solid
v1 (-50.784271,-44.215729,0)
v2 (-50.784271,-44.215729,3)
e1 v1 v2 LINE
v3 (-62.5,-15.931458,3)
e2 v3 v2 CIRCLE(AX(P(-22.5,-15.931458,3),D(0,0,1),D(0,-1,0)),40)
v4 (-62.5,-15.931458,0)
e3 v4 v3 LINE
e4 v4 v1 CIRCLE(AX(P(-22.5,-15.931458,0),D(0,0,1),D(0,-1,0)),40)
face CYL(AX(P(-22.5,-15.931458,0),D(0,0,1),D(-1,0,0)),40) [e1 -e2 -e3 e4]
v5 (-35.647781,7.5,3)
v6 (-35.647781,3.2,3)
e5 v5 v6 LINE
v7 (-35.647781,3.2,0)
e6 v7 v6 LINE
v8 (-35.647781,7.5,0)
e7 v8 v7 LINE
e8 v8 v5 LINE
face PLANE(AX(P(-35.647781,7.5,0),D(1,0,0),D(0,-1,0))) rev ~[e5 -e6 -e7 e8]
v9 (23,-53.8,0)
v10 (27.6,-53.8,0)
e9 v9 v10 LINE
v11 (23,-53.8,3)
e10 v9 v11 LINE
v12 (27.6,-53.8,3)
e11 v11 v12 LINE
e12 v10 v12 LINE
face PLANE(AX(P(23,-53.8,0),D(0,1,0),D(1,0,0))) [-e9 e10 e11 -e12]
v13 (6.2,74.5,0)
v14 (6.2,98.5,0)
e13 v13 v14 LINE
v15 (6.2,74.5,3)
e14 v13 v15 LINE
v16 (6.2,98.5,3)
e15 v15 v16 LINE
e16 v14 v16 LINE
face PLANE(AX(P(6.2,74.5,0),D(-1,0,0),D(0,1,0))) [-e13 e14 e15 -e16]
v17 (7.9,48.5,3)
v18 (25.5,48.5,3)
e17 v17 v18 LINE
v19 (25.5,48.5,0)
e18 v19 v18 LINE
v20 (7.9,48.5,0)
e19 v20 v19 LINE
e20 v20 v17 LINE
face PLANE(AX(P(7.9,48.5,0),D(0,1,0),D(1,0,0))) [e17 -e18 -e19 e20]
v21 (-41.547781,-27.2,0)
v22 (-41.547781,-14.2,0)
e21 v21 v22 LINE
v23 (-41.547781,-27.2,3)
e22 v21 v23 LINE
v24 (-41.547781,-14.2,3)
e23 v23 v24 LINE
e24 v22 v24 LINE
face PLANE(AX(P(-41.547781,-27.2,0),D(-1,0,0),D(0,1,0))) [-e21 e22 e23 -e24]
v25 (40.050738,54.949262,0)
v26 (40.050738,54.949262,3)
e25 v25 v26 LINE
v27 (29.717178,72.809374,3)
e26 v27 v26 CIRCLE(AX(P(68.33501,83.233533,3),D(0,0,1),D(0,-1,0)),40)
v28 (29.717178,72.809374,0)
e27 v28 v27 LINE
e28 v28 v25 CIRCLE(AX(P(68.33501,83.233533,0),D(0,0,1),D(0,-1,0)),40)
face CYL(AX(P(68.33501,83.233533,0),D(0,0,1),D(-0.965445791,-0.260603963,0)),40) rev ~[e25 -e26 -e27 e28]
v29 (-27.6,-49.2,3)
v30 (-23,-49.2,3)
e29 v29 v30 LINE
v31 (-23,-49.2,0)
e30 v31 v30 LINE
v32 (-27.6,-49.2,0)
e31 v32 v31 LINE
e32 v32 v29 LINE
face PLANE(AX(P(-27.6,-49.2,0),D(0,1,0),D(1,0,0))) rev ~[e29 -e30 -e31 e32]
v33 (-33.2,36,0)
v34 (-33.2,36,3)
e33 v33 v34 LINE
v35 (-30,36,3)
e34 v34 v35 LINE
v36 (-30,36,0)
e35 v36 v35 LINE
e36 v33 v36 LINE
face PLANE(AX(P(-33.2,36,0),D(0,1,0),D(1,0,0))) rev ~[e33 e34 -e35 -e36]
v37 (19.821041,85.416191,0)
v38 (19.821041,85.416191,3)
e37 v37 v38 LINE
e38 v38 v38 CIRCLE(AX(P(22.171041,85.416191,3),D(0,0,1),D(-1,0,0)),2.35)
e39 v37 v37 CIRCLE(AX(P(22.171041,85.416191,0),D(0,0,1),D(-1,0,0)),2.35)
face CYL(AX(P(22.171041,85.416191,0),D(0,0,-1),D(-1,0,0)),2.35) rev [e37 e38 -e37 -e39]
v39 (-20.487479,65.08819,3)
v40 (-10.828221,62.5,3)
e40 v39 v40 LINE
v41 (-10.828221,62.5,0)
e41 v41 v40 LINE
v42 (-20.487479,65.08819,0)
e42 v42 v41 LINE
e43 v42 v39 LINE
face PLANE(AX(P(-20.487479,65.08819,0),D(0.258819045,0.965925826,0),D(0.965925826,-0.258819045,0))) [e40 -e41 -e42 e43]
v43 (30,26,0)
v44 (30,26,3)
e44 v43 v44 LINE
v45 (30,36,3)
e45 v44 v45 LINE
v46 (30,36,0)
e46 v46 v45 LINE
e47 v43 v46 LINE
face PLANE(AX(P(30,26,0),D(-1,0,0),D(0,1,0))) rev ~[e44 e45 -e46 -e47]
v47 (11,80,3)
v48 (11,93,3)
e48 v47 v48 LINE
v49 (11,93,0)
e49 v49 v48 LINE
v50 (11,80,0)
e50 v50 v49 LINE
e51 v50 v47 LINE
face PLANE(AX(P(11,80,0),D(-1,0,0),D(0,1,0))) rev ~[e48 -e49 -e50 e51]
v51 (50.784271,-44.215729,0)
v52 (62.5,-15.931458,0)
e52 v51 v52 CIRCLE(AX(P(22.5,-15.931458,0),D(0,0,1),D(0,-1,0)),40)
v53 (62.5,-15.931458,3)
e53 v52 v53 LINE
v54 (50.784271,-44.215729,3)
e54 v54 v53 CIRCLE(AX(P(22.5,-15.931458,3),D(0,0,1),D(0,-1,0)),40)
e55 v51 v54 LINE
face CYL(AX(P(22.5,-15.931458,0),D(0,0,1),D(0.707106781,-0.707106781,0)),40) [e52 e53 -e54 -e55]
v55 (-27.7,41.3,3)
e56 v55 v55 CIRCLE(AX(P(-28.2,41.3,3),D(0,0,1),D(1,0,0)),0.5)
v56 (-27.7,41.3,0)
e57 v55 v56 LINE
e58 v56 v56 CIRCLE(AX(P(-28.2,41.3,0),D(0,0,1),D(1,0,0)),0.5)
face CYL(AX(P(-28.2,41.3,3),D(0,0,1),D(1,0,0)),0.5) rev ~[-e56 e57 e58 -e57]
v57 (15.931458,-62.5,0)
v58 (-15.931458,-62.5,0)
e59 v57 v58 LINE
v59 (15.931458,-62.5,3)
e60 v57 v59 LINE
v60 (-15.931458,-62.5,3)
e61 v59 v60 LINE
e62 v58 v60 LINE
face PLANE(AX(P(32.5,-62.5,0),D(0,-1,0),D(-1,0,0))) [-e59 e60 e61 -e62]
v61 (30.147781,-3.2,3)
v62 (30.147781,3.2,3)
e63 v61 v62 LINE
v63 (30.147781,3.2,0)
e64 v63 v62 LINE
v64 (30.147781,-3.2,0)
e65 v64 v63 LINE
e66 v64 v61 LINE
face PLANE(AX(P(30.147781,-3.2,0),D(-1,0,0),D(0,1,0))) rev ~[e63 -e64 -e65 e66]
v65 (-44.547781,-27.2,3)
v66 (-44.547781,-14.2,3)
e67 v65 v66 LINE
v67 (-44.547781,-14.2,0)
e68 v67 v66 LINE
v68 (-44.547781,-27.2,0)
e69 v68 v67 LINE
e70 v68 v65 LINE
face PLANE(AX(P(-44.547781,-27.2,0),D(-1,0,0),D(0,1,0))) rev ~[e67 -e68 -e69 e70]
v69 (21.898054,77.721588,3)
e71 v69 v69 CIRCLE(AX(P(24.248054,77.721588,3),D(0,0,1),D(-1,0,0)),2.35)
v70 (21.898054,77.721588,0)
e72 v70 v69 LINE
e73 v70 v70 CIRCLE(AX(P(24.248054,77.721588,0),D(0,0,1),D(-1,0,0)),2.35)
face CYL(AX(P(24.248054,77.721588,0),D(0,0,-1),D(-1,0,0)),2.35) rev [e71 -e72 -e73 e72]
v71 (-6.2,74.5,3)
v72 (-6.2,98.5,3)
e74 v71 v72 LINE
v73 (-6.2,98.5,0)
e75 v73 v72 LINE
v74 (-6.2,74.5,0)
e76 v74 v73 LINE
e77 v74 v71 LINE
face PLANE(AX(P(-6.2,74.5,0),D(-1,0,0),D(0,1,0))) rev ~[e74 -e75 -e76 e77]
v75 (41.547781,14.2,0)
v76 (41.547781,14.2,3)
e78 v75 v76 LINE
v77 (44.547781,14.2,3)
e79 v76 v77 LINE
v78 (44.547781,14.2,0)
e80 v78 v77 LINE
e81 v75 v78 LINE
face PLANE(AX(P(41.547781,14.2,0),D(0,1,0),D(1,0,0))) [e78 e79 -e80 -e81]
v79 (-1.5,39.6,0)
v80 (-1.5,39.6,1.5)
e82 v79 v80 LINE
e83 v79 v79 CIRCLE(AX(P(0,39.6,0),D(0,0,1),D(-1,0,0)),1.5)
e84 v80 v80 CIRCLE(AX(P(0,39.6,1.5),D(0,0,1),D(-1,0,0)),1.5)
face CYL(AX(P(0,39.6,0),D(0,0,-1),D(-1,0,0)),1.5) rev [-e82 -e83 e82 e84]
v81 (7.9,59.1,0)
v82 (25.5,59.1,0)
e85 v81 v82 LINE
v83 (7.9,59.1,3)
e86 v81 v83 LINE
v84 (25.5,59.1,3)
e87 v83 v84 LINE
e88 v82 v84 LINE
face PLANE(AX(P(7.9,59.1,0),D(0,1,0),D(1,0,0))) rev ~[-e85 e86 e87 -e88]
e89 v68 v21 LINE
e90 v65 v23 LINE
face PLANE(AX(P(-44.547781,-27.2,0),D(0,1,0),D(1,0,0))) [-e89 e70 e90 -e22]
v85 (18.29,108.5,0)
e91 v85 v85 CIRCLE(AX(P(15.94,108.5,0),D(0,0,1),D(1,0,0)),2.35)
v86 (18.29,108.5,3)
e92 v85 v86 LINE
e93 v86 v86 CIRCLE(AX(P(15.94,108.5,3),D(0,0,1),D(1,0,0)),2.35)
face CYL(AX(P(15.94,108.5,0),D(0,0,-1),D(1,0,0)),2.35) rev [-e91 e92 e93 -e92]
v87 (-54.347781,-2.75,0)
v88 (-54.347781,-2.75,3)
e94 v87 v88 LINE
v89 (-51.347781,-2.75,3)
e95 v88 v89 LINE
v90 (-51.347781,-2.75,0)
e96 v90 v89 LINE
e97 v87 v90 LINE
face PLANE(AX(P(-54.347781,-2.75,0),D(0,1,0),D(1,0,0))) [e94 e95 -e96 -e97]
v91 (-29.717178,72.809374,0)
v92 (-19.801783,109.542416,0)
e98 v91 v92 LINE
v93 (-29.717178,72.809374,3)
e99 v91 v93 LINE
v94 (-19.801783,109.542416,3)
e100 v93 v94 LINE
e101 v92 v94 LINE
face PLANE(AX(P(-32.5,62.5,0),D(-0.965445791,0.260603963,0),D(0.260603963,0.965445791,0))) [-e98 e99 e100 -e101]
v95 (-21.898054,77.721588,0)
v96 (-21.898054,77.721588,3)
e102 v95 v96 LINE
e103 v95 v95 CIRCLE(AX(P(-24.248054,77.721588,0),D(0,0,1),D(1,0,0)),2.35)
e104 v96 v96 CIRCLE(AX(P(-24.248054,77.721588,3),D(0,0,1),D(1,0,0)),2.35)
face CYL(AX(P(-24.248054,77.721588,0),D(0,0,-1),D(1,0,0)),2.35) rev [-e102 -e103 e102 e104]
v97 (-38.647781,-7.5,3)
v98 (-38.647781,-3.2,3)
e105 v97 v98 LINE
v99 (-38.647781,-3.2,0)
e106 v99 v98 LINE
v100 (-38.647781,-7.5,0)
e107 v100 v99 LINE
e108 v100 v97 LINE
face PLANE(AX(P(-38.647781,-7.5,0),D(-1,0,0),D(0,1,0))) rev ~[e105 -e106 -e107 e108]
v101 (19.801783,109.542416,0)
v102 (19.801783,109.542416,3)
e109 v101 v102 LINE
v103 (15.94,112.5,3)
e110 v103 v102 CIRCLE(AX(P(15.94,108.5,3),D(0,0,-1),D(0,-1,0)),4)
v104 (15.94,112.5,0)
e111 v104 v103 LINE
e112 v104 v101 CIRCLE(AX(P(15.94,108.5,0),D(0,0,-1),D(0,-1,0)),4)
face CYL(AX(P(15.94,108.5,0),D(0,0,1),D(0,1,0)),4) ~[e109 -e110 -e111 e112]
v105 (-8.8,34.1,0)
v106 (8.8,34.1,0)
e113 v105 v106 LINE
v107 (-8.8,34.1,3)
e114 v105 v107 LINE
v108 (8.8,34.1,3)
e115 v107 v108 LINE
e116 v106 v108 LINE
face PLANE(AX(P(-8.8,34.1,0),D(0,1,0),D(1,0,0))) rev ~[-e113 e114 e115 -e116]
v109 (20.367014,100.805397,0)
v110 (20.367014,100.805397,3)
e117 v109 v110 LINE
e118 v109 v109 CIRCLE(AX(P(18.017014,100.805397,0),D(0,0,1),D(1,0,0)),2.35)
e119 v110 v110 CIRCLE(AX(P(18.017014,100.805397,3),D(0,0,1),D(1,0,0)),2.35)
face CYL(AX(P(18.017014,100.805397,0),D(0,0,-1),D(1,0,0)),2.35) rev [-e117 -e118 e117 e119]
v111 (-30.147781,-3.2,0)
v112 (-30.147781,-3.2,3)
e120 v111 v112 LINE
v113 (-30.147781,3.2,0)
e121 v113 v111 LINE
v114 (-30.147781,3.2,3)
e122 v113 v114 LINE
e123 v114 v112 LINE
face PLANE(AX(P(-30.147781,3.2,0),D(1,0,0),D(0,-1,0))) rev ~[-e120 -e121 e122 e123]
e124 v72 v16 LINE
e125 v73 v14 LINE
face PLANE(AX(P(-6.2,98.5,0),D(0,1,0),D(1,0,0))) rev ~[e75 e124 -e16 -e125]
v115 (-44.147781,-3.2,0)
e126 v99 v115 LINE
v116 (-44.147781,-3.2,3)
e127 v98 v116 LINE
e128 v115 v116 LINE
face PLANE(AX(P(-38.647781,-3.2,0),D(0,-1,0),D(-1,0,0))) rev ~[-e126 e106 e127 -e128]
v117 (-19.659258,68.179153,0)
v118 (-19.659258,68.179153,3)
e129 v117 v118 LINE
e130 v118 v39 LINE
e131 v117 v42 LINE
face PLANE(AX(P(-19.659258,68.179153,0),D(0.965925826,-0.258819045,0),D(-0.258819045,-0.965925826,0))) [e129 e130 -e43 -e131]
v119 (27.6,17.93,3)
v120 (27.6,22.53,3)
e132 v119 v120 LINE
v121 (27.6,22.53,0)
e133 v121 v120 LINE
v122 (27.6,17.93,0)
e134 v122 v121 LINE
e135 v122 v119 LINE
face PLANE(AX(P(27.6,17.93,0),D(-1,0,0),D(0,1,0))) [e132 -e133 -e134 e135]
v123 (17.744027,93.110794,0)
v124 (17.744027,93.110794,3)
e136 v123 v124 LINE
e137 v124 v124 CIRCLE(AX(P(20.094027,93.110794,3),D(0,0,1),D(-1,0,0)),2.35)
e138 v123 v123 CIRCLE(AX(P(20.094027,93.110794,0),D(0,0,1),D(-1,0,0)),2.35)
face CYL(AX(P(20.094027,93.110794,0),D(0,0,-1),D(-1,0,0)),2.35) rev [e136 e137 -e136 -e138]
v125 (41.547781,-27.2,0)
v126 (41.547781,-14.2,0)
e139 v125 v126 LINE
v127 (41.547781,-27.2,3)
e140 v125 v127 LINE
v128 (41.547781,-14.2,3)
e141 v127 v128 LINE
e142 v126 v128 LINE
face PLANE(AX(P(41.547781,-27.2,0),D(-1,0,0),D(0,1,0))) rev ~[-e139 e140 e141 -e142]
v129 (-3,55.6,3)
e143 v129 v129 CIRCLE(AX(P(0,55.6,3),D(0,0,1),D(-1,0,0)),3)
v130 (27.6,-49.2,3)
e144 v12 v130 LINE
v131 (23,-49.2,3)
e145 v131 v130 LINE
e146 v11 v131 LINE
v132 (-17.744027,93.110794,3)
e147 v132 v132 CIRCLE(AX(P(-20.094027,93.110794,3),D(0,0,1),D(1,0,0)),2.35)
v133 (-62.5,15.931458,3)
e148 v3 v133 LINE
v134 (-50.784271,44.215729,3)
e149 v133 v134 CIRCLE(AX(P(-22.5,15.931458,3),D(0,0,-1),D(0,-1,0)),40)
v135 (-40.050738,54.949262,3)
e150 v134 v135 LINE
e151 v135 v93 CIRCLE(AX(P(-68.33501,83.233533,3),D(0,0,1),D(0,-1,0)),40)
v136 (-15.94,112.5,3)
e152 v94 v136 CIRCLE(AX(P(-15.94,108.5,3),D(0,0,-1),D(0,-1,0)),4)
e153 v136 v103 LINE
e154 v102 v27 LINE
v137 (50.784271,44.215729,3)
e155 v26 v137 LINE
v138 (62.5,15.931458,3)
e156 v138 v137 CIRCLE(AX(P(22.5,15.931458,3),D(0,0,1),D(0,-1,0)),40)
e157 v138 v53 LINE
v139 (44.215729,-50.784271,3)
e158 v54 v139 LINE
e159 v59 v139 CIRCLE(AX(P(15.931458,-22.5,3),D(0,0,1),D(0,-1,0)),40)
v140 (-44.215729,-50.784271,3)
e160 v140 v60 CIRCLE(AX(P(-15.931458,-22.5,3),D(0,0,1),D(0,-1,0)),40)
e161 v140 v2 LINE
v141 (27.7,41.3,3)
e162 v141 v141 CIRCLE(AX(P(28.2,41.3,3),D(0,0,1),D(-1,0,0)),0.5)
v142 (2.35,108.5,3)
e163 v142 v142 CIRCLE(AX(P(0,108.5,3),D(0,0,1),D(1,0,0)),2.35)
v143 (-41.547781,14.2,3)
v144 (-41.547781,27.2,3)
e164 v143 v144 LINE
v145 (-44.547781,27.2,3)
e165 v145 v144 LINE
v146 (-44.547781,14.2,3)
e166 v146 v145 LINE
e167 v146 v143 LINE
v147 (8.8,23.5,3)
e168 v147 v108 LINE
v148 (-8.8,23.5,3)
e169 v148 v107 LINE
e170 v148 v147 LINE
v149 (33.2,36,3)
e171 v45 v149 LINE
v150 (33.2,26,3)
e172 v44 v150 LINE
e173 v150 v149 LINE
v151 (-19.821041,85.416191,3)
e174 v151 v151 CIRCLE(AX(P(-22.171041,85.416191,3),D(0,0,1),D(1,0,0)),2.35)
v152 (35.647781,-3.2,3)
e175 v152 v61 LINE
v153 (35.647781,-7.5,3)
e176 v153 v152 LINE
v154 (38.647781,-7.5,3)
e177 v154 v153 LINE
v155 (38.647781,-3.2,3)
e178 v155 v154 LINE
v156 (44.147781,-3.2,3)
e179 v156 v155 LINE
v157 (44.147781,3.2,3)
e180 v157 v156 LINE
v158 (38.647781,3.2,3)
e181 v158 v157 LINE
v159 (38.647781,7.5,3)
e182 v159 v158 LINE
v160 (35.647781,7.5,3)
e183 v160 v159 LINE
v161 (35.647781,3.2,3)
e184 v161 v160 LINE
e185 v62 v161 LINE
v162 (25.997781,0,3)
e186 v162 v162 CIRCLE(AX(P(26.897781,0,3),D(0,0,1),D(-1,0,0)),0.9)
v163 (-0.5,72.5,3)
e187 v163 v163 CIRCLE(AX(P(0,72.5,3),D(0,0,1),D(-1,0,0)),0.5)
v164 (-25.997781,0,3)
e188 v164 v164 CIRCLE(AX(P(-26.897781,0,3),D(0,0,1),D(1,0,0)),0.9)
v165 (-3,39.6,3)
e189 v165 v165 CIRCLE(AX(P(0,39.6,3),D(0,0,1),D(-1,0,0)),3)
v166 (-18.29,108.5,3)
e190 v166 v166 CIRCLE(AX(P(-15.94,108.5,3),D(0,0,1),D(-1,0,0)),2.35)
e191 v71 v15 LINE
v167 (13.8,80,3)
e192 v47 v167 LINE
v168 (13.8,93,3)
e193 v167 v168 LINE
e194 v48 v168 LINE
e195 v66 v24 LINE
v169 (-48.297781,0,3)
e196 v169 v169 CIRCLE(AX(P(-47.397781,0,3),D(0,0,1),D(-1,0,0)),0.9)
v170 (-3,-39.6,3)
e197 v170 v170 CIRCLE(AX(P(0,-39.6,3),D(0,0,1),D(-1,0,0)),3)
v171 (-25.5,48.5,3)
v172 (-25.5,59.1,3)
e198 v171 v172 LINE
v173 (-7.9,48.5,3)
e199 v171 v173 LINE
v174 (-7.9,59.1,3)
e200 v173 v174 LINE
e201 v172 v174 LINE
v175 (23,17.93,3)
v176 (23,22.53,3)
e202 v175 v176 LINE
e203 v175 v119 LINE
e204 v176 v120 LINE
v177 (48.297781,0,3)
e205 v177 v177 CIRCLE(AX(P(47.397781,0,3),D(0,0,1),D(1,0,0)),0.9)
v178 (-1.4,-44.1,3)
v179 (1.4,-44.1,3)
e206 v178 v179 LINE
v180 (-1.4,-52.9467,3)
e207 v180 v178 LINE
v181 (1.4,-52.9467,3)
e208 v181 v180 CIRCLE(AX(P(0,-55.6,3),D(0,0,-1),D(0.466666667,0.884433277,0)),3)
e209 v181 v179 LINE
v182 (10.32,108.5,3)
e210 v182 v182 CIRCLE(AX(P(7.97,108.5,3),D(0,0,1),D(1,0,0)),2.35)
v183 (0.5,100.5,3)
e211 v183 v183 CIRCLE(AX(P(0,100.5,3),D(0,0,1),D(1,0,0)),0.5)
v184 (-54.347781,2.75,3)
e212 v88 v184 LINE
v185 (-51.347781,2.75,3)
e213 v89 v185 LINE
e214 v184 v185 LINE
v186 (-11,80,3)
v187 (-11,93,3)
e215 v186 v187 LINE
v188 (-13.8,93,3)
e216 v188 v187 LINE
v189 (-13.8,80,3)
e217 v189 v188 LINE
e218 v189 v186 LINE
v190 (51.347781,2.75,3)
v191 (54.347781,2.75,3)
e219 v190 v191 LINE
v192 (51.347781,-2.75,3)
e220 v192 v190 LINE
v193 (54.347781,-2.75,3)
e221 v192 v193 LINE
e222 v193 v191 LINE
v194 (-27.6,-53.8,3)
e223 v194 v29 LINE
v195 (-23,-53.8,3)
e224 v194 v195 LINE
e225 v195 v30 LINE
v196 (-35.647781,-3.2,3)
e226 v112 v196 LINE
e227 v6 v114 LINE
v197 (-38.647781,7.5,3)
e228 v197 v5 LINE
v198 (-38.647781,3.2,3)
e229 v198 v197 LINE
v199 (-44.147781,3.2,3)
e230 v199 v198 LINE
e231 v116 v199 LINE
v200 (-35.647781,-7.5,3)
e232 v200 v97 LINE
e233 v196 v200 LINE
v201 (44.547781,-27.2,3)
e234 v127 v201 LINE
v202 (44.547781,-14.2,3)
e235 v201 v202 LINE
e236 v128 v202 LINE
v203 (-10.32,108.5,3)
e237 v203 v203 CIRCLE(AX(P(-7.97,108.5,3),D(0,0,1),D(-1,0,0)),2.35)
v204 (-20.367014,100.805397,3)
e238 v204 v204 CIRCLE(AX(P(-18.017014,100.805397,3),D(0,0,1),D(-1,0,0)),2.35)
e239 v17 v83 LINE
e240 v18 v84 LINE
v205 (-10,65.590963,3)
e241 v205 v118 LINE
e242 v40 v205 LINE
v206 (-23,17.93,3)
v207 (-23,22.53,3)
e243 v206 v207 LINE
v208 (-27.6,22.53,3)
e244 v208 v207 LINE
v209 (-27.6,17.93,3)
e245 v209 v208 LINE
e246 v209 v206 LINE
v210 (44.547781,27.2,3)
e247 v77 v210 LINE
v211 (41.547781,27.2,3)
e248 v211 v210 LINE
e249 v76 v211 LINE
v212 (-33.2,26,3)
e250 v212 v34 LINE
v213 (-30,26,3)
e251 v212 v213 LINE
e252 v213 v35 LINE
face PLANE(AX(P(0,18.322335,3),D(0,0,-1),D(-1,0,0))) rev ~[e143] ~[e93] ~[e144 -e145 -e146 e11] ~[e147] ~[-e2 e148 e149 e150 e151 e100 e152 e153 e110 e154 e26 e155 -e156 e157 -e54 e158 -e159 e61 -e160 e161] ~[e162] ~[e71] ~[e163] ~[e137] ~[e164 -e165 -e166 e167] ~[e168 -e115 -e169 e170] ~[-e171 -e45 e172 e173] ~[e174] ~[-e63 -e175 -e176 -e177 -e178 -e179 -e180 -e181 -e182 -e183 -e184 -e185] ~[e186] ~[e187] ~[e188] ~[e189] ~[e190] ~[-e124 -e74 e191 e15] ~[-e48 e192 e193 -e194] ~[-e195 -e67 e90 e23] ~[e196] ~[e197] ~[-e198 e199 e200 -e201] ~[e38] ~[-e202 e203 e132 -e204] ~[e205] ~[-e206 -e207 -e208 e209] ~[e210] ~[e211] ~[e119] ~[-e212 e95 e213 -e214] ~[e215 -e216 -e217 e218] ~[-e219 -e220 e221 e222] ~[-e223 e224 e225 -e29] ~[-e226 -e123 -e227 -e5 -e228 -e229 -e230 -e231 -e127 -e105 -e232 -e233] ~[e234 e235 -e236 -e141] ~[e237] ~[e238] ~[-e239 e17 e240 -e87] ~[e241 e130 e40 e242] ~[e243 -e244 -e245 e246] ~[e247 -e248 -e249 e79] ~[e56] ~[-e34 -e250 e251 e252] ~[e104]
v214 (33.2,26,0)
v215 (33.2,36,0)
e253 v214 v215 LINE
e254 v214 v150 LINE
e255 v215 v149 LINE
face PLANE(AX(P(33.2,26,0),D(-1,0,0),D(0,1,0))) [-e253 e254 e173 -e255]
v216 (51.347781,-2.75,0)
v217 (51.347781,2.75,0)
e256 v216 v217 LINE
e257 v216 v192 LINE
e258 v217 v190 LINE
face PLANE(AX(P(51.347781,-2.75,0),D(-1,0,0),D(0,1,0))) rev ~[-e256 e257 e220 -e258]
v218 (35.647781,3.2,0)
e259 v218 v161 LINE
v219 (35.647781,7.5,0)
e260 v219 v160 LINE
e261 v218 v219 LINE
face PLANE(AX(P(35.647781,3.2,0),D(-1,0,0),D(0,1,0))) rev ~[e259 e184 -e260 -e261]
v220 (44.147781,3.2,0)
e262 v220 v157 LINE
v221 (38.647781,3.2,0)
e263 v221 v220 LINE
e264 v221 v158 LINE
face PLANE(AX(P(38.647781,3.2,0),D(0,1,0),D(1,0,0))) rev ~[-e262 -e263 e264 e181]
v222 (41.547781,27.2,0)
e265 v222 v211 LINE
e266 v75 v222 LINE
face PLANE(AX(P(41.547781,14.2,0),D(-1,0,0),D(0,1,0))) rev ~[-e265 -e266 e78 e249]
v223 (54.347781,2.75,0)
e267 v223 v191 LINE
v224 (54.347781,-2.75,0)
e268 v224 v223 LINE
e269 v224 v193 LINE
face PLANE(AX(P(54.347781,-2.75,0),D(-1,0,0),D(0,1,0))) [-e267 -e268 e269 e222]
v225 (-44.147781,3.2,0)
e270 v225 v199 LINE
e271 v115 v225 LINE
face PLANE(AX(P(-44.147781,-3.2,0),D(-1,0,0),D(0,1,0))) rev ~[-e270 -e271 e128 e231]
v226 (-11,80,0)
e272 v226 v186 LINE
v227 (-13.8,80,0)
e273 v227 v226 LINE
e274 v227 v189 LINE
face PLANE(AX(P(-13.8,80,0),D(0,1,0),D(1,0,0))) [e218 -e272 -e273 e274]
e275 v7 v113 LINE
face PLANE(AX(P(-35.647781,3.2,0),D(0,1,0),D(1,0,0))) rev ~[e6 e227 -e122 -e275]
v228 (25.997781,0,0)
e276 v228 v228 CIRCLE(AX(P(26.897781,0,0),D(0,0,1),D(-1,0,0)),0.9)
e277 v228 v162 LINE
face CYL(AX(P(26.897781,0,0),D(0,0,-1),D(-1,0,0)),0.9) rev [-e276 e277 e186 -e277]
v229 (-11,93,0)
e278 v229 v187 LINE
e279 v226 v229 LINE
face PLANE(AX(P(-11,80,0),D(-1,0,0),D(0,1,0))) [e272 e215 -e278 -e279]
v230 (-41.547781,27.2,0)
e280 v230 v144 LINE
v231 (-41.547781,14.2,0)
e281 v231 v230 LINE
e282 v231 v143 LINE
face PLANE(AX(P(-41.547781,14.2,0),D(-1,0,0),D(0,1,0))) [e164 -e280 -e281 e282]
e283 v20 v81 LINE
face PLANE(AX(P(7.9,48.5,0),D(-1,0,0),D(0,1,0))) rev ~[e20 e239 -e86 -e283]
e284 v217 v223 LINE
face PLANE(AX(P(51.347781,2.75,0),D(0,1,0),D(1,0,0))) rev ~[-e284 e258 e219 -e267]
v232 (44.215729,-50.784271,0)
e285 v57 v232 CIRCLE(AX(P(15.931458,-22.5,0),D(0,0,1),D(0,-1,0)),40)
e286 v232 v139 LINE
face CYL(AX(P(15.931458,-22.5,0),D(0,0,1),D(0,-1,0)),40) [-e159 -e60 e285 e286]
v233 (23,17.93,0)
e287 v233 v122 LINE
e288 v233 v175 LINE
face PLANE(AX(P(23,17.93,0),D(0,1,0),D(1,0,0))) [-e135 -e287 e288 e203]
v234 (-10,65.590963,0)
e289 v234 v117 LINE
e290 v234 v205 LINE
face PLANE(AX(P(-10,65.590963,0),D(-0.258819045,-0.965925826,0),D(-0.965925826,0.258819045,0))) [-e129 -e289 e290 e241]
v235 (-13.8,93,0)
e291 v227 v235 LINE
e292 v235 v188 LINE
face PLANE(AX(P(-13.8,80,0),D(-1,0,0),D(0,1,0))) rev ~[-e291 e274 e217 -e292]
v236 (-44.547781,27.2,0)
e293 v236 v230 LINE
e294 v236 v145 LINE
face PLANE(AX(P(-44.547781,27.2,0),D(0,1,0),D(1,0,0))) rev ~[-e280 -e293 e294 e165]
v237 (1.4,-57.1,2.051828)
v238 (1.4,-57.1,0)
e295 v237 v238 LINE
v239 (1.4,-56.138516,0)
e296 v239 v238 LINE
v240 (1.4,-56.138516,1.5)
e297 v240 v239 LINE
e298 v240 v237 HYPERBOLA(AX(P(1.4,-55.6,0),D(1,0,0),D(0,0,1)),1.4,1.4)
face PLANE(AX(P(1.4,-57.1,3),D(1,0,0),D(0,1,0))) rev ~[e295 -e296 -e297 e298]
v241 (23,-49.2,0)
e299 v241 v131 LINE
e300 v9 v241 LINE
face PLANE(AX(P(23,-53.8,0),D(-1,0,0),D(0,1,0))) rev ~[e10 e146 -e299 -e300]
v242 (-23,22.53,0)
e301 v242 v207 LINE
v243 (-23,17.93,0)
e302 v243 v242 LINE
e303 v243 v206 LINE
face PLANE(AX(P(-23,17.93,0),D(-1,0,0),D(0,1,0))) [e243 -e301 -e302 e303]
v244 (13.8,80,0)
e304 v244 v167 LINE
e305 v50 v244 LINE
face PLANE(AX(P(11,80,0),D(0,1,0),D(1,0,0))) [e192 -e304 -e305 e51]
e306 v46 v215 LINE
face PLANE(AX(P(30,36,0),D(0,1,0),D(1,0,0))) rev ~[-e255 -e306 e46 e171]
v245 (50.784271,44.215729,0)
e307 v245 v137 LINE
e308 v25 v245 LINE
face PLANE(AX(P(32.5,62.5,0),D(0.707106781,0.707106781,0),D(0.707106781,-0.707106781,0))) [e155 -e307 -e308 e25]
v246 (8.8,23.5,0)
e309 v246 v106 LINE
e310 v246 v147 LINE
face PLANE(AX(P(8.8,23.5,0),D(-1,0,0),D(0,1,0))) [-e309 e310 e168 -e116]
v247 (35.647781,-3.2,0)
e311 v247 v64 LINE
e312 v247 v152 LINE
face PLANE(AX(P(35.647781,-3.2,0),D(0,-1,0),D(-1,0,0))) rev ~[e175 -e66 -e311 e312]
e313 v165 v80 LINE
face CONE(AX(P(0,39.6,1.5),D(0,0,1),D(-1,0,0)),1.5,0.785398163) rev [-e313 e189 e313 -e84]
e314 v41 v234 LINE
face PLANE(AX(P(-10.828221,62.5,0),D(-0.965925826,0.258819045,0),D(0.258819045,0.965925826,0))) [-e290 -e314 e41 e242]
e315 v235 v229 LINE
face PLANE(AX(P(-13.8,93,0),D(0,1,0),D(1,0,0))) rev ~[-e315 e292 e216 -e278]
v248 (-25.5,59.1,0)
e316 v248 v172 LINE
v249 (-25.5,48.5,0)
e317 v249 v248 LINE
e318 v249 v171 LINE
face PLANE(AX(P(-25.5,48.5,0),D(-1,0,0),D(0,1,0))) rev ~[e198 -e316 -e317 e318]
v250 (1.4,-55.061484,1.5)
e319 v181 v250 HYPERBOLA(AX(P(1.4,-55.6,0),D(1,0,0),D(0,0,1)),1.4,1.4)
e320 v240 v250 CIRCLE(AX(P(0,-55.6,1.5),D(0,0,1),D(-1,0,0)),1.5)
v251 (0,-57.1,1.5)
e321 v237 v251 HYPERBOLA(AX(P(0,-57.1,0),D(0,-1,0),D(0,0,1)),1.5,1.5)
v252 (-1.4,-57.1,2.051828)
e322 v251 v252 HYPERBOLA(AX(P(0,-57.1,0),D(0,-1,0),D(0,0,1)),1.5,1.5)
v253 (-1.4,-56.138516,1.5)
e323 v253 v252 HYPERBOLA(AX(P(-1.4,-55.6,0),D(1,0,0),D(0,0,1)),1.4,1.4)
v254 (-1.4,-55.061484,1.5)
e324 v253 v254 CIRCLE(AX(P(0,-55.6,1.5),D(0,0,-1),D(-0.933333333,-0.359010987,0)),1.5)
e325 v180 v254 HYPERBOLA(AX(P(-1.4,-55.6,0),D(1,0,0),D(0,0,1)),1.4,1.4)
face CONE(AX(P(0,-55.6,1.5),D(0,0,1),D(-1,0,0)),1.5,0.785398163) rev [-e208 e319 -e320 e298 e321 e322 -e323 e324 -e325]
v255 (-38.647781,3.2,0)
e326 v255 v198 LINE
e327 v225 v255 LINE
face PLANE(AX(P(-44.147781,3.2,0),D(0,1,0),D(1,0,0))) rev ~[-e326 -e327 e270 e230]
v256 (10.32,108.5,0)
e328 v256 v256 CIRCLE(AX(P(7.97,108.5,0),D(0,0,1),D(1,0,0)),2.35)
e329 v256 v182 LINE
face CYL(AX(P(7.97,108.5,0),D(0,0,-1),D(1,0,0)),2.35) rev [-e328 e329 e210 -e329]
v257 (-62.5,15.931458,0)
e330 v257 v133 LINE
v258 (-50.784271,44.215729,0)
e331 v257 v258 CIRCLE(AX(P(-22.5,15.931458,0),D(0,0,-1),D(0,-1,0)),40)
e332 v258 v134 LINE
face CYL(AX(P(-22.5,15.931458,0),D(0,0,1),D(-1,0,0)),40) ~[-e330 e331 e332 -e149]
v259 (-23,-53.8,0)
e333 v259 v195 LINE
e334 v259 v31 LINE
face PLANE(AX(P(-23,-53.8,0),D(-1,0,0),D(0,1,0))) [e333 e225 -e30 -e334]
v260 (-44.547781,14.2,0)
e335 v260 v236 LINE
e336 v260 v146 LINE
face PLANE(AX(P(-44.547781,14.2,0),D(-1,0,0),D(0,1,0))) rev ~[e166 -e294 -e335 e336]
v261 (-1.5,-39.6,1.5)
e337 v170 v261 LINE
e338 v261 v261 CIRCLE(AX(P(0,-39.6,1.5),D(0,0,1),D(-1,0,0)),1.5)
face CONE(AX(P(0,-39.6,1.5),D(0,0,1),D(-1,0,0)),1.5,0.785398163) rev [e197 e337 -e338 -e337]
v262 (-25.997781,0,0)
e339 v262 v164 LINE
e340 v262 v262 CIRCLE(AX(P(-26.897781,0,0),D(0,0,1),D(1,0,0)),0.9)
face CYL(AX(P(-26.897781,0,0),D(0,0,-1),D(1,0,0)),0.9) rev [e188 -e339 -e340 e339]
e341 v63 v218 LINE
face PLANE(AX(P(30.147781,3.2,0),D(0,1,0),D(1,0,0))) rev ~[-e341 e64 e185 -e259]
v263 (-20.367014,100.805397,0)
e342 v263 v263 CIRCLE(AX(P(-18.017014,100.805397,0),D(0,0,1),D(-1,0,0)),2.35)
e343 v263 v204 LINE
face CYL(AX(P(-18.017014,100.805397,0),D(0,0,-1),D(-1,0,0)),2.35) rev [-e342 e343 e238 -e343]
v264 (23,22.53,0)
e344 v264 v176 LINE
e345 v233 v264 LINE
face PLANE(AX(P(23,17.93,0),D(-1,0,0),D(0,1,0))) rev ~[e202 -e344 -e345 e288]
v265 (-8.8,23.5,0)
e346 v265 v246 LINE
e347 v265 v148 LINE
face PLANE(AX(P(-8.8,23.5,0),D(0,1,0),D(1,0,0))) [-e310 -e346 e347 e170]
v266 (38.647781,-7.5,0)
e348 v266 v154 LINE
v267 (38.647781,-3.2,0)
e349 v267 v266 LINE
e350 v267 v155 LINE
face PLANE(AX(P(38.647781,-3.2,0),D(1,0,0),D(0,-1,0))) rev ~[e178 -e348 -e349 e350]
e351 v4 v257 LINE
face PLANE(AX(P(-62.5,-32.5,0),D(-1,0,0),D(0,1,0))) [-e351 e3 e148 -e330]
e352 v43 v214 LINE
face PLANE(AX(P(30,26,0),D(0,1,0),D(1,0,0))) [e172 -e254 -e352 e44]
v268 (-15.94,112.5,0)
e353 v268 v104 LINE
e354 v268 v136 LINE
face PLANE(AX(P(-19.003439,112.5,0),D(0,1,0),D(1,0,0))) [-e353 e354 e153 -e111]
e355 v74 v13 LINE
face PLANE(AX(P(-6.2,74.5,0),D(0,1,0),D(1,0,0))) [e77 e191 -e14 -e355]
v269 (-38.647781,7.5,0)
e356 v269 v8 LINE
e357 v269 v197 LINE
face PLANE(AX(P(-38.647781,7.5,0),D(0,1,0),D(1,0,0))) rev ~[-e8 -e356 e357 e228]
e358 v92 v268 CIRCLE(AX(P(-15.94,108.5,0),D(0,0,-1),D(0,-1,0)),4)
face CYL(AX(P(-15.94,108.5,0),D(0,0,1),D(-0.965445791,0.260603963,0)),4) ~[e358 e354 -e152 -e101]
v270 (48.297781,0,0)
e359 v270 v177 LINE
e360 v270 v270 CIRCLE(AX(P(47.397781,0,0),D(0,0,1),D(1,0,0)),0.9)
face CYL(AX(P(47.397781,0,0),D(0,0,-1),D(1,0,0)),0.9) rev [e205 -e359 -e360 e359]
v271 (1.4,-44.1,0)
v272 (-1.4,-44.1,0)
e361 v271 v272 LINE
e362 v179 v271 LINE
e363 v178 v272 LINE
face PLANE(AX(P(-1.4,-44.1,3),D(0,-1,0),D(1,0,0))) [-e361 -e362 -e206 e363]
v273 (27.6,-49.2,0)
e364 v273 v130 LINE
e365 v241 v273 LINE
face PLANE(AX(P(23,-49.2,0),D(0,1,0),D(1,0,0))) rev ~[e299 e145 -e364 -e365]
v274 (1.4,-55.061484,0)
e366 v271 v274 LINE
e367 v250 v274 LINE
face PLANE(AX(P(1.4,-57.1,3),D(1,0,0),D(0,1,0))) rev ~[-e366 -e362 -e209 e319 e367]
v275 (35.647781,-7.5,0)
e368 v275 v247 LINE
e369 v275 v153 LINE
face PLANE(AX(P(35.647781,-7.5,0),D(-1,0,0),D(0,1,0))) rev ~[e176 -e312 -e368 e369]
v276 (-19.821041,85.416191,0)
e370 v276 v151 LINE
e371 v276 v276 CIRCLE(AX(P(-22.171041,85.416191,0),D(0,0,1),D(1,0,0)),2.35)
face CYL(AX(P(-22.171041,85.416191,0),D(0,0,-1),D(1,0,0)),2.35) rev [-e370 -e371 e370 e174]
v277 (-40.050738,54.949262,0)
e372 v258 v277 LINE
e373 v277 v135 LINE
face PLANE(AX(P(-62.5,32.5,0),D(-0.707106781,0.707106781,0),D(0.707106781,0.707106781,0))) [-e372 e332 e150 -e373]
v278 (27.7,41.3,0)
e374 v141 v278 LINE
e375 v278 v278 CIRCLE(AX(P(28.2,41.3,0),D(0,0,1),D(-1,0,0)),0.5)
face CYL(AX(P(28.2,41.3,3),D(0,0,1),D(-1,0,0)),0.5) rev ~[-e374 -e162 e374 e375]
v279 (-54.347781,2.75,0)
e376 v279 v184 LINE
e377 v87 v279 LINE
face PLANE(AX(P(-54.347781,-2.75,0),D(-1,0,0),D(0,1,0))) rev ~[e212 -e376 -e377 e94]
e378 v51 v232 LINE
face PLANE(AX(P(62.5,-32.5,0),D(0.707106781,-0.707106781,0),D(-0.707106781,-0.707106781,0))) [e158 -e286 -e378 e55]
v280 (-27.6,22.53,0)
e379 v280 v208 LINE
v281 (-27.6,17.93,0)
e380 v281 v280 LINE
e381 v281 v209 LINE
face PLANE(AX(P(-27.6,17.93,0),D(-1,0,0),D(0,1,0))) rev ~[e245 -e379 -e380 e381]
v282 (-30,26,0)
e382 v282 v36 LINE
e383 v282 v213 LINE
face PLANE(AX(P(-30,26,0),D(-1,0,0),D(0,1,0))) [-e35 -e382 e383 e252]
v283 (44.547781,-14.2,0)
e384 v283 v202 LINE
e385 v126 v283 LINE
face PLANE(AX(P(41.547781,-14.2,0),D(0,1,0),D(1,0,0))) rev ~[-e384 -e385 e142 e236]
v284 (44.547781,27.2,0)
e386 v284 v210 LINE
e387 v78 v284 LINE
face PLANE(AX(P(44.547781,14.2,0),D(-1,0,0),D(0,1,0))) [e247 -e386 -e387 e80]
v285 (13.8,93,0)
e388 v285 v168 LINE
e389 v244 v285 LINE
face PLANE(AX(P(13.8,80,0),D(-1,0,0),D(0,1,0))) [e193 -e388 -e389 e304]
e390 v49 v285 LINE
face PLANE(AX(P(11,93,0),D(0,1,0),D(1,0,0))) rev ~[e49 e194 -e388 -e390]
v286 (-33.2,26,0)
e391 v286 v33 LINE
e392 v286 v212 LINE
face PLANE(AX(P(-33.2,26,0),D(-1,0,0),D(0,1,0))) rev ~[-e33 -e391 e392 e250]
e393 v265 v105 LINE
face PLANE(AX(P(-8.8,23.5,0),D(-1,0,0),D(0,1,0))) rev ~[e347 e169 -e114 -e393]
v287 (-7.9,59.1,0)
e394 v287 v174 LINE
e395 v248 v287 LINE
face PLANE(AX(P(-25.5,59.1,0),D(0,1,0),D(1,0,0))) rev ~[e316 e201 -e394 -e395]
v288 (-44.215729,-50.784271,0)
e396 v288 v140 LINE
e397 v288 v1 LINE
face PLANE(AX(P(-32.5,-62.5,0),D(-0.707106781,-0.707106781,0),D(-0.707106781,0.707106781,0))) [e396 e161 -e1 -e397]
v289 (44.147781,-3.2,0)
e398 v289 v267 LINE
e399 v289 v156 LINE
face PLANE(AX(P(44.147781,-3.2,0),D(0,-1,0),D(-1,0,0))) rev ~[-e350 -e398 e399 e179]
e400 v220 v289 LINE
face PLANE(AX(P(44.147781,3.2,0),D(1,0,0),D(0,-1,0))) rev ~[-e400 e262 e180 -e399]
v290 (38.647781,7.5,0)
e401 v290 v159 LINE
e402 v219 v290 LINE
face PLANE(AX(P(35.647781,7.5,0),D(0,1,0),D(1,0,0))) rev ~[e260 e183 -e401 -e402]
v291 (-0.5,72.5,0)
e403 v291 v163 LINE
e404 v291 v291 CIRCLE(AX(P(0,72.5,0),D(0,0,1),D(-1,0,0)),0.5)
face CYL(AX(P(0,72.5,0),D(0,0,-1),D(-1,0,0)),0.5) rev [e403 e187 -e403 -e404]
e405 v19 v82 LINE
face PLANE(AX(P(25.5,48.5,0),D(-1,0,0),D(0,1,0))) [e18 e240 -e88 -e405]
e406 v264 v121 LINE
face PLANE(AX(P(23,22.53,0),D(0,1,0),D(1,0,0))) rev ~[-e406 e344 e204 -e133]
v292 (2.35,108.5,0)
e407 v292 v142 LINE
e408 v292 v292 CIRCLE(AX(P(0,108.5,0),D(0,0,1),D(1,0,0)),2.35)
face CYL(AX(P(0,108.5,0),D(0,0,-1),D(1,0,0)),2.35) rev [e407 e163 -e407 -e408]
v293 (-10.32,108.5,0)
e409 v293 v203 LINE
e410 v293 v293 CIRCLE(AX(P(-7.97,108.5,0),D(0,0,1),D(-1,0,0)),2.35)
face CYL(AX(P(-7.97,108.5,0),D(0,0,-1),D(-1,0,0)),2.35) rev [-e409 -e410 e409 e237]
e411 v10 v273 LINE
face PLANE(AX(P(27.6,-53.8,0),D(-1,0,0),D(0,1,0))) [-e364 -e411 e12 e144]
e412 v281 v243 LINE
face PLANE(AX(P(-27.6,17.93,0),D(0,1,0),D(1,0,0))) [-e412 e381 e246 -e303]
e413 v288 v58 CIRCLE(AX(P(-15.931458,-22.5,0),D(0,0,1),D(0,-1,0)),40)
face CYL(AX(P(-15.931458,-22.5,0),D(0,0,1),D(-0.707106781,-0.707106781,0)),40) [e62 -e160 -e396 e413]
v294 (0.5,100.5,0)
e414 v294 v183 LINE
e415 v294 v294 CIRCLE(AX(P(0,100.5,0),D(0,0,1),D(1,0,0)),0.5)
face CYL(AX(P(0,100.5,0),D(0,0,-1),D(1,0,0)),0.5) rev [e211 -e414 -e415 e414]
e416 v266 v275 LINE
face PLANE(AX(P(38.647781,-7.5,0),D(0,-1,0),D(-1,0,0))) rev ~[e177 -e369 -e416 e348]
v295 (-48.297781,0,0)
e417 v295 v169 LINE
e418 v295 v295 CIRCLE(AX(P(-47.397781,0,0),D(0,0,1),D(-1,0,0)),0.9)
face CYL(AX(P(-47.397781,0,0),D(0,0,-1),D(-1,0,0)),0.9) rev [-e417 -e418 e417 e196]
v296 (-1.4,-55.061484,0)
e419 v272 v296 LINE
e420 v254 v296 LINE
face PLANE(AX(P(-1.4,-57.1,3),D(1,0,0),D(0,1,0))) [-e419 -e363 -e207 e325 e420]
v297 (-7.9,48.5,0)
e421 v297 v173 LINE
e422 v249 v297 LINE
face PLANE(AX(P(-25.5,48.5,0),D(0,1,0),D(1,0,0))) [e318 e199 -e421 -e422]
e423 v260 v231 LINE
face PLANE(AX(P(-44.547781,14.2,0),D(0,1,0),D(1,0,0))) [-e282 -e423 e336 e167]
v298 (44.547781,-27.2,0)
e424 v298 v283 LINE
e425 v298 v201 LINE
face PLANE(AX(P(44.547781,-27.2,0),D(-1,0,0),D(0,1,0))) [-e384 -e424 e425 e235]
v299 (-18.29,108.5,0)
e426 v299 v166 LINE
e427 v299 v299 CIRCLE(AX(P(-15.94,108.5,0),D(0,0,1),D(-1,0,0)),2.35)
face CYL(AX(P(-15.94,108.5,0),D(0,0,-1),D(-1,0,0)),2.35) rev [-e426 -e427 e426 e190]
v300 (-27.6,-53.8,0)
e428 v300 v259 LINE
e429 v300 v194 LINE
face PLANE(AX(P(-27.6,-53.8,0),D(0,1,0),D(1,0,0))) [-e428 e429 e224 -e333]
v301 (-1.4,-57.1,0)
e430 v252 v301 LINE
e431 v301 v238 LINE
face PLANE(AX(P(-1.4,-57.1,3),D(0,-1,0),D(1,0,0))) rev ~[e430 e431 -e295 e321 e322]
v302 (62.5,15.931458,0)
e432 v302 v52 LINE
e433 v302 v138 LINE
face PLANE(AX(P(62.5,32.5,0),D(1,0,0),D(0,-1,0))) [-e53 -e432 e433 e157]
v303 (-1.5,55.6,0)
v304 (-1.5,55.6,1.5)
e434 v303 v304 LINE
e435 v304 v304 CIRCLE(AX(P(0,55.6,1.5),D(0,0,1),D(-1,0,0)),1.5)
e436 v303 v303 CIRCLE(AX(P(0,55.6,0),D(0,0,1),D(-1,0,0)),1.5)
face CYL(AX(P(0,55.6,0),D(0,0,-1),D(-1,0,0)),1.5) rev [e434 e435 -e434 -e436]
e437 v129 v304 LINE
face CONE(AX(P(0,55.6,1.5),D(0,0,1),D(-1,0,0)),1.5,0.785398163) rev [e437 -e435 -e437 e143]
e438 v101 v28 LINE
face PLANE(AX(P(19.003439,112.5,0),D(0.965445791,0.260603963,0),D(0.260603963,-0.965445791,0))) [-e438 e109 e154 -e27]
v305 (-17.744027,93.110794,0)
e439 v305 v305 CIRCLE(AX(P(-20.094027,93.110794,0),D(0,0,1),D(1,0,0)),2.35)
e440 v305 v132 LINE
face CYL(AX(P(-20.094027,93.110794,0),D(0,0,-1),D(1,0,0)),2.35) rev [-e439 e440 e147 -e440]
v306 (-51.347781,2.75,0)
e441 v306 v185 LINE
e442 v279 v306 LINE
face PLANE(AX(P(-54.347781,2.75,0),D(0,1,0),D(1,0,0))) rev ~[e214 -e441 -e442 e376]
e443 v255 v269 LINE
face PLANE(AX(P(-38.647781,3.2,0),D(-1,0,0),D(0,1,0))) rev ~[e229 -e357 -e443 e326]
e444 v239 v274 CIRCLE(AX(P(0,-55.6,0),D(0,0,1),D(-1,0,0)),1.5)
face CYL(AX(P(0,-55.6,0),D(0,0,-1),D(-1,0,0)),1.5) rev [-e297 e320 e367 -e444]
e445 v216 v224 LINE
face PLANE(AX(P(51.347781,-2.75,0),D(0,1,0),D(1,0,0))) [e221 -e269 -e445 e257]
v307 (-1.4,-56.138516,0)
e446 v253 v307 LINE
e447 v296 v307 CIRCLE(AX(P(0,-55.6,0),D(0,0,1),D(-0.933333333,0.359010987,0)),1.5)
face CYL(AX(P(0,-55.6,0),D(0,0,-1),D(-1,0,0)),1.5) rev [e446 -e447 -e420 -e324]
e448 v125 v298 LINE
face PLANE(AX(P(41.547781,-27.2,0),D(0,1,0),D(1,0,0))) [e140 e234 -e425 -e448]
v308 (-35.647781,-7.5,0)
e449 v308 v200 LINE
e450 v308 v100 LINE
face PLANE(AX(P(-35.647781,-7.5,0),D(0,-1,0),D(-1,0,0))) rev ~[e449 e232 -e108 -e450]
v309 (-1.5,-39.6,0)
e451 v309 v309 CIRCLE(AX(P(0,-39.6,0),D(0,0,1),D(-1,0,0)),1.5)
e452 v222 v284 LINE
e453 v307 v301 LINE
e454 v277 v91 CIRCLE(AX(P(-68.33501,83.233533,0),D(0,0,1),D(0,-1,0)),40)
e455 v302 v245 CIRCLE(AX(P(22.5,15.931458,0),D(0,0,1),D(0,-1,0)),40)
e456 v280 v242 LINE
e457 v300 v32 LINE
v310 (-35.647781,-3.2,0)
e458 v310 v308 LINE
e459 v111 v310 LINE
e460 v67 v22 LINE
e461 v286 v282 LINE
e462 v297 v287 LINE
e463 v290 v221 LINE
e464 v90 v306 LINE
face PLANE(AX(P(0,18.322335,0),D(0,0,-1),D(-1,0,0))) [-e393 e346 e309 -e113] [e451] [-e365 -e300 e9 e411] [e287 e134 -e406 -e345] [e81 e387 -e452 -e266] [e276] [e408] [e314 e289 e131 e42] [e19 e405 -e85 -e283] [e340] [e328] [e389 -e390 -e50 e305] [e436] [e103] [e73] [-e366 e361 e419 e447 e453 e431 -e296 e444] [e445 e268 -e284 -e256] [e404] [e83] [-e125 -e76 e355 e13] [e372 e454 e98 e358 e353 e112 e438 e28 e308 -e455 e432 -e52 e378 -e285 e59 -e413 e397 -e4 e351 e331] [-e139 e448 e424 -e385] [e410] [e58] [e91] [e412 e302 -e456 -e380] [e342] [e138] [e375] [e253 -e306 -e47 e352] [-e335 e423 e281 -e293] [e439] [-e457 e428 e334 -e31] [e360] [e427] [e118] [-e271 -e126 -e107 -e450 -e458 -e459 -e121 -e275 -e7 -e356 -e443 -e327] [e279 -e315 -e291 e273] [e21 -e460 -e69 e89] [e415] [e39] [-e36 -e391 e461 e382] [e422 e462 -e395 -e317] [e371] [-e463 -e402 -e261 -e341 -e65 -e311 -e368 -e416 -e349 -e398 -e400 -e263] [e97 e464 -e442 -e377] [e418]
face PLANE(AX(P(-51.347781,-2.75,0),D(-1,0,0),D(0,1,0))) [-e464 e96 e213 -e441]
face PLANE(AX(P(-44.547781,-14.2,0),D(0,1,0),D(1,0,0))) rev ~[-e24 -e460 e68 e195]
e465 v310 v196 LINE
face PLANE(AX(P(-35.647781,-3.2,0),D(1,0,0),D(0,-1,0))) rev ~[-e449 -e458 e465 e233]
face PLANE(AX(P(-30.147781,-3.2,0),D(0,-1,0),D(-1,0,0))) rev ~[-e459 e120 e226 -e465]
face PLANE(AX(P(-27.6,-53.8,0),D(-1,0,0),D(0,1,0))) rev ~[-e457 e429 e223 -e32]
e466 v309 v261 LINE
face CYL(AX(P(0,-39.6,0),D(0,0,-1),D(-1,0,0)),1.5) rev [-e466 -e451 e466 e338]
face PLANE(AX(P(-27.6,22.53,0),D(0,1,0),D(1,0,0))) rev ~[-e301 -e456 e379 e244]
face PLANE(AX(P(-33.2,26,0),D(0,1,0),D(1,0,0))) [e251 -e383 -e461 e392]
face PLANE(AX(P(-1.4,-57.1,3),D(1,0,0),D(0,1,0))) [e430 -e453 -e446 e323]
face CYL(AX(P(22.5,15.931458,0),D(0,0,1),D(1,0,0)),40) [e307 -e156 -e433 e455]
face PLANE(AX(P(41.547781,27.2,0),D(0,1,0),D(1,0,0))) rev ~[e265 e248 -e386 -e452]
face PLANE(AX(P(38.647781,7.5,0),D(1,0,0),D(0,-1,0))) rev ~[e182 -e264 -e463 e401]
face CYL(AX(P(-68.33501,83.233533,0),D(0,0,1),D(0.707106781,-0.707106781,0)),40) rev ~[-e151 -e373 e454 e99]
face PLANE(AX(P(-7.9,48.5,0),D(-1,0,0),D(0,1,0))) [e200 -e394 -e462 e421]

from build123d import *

# Parameters (mm, degrees)
SKICA1_R                 = 0.5
SKICA1_R_2               = 2.35
SKICA1_R_3               = 0.9
SKICA1_W                 = 3
SKICA1_H                 = 13
SKICA1_H_2               = 5.5
SKICA1_W_2               = 17.6
SKICA1_H_3               = 10.6
SKICA1_W_3               = 12.4
SKICA1_H_4               = 24
SKICA1_W_4               = 2.8
SKICA1_W_5               = 3.2
SKICA1_H_5               = 10
SKICA1_W_6               = 4.6
SKICA1_H_6               = 4.6
P_IDAT_VYSUNUT_M1_DEPTH  = 3
SKICA2_R                 = 1.5
ODEBRAT_VYSUNUT_M1_DEPTH = 3
ZKOSEN_1_SIZE            = 1.5
ZAOBLIT1_R               = 40
ZAOBLIT2_R               = 4
SKICA3_R                 = 0.5
SKICA3_W                 = 2.8
SKICA3_H                 = 13
ODEBRAT_VYSUNUT_M2_DEPTH = 129.730338305


with BuildPart() as part:
    # Skica1 → Přidat vysunutím1 (new body)
    with BuildSketch(Plane.XY):
        Polygon((-62.5, -32.5), (-62.5, 32.5), (-32.5, 62.5), (-19.003438856, 112.5), (19.003438856, 112.5), (32.5, 62.5), (62.5, 32.5), (62.5, -32.5), (32.5, -62.5), (-32.5, -62.5), align=None)
        with Locations((0, 100.5)):
            Circle(SKICA1_R, mode=Mode.SUBTRACT)
        with Locations(Location((0, 72.5, 0), (0, 0, 180))):
            Circle(SKICA1_R, mode=Mode.SUBTRACT)
        with Locations((0, 108.5)):
            Circle(SKICA1_R_2, mode=Mode.SUBTRACT)
        with Locations((7.97, 108.5)):
            Circle(SKICA1_R_2, mode=Mode.SUBTRACT)
        with Locations((15.94, 108.5)):
            Circle(SKICA1_R_2, mode=Mode.SUBTRACT)
        with Locations(Location((-15.94, 108.5, 0), (0, 0, 180))):
            Circle(SKICA1_R_2, mode=Mode.SUBTRACT)
        with Locations(Location((-7.97, 108.5, 0), (0, 0, 180))):
            Circle(SKICA1_R_2, mode=Mode.SUBTRACT)
        with Locations(Location((-18.017013584, 100.805397049, 0), (0, 0, 180))):
            Circle(SKICA1_R_2, mode=Mode.SUBTRACT)
        with Locations((-20.094027168, 93.110794098)):
            Circle(SKICA1_R_2, mode=Mode.SUBTRACT)
        with Locations((-22.171040752, 85.416191147)):
            Circle(SKICA1_R_2, mode=Mode.SUBTRACT)
        with Locations((-24.248054336, 77.721588196)):
            Circle(SKICA1_R_2, mode=Mode.SUBTRACT)
        with Locations(Location((24.248054336, 77.721588196, 0), (0, 0, 180))):
            Circle(SKICA1_R_2, mode=Mode.SUBTRACT)
        with Locations(Location((22.171040752, 85.416191147, 0), (0, 0, 180))):
            Circle(SKICA1_R_2, mode=Mode.SUBTRACT)
        with Locations(Location((20.094027168, 93.110794098, 0), (0, 0, 180))):
            Circle(SKICA1_R_2, mode=Mode.SUBTRACT)
        with Locations((18.017013584, 100.805397049)):
            Circle(SKICA1_R_2, mode=Mode.SUBTRACT)
        with Locations((47.397781356, 0)):
            Circle(SKICA1_R_3, mode=Mode.SUBTRACT)
        with Locations(Location((26.897781356, 0, 0), (0, 0, 180))):
            Circle(SKICA1_R_3, mode=Mode.SUBTRACT)
        with Locations(Location((-47.397781356, 0, 0), (0, 0, 180))):
            Circle(SKICA1_R_3, mode=Mode.SUBTRACT)
        with Locations((-26.897781356, 0)):
            Circle(SKICA1_R_3, mode=Mode.SUBTRACT)
        Polygon((-44.147781356, 3.2), (-38.647781356, 3.2), (-38.647781356, 7.5), (-35.647781356, 7.5), (-35.647781356, 3.2), (-30.147781356, 3.2), (-30.147781356, -3.2), (-35.647781356, -3.2), (-35.647781356, -7.5), (-38.647781356, -7.5), (-38.647781356, -3.2), (-44.147781356, -3.2), align=None, mode=Mode.SUBTRACT)
        with Locations((-43.047781356, 20.7)):
            Rectangle(SKICA1_W, SKICA1_H, mode=Mode.SUBTRACT)
        with Locations((-52.847781356, 0)):
            Rectangle(SKICA1_W, SKICA1_H_2, mode=Mode.SUBTRACT)
        with Locations((-43.047781356, -20.7)):
            Rectangle(SKICA1_W, SKICA1_H, mode=Mode.SUBTRACT)
        Polygon((38.647781356, -7.5), (35.647781356, -7.5), (35.647781356, -3.2), (30.147781356, -3.2), (30.147781356, 3.2), (35.647781356, 3.2), (35.647781356, 7.5), (38.647781356, 7.5), (38.647781356, 3.2), (44.147781356, 3.2), (44.147781356, -3.2), (38.647781356, -3.2), align=None, mode=Mode.SUBTRACT)
        with Locations((52.847781356, 0)):
            Rectangle(SKICA1_W, SKICA1_H_2, mode=Mode.SUBTRACT)
        with Locations((43.047781356, 20.7)):
            Rectangle(SKICA1_W, SKICA1_H, mode=Mode.SUBTRACT)
        with Locations((43.047781356, -20.7)):
            Rectangle(SKICA1_W, SKICA1_H, mode=Mode.SUBTRACT)
        with Locations((16.7, 53.8)):
            Rectangle(SKICA1_W_2, SKICA1_H_3, mode=Mode.SUBTRACT)
        with Locations((0, 28.8)):
            Rectangle(SKICA1_W_2, SKICA1_H_3, mode=Mode.SUBTRACT)
        with Locations((-16.7, 53.8)):
            Rectangle(SKICA1_W_2, SKICA1_H_3, mode=Mode.SUBTRACT)
        with Locations((0, 86.5)):
            Rectangle(SKICA1_W_3, SKICA1_H_4, mode=Mode.SUBTRACT)
        with Locations((-12.4, 86.5)):
            Rectangle(SKICA1_W_4, SKICA1_H, mode=Mode.SUBTRACT)
        Polygon((-20.487479207, 65.088190451), (-10.828220944, 62.5), (-10, 65.590962644), (-19.659258263, 68.179153095), align=None, mode=Mode.SUBTRACT)
        with Locations((12.4, 86.5)):
            Rectangle(SKICA1_W_4, SKICA1_H, mode=Mode.SUBTRACT)
        with Locations((31.6, 31)):
            Rectangle(SKICA1_W_5, SKICA1_H_5, mode=Mode.SUBTRACT)
        with Locations((-31.6, 31)):
            Rectangle(SKICA1_W_5, SKICA1_H_5, mode=Mode.SUBTRACT)
        with Locations((25.3, 20.23)):
            Rectangle(SKICA1_W_6, SKICA1_H_6, mode=Mode.SUBTRACT)
        with Locations((25.3, -51.5)):
            Rectangle(SKICA1_W_6, SKICA1_H_6, mode=Mode.SUBTRACT)
        with Locations((-25.3, -51.5)):
            Rectangle(SKICA1_W_6, SKICA1_H_6, mode=Mode.SUBTRACT)
        with Locations((-25.3, 20.23)):
            Rectangle(SKICA1_W_6, SKICA1_H_6, mode=Mode.SUBTRACT)
    extrude(amount=P_IDAT_VYSUNUT_M1_DEPTH)

    # Skica2 → Odebrat vysunutím1 (cut)
    with BuildSketch(Plane.XY):
        with Locations(Location((0, 39.6, 0), (0, 0, 180))):
            Circle(SKICA2_R)
        with Locations(Location((0, 55.6, 0), (0, 0, 180))):
            Circle(SKICA2_R)
        with Locations(Location((0, -55.6, 0), (0, 0, 180))):
            Circle(SKICA2_R)
        with Locations(Location((0, -39.6, 0), (0, 0, 180))):
            Circle(SKICA2_R)
    extrude(amount=ODEBRAT_VYSUNUT_M1_DEPTH, mode=Mode.SUBTRACT)

    # Zkosení1
    zkosen_1_edges = [part.edges().sort_by_distance(p)[0] for p in [
        (1.5, 55.6, 3),
        (1.5, -55.6, 3),
        (1.5, -39.6, 3),
        (1.5, 39.6, 3),
    ]]
    chamfer(zkosen_1_edges, length=ZKOSEN_1_SIZE)

    # Zaoblit1
    zaoblit1_edges = [part.edges().sort_by_distance(p)[0] for p in [
        (-62.5, -32.5, 1.5),
        (-62.5, 32.5, 1.5),
        (-32.5, 62.5, 1.5),
        (32.5, 62.5, 1.5),
        (62.5, 32.5, 1.5),
        (62.5, -32.5, 1.5),
        (32.5, -62.5, 1.5),
        (-32.5, -62.5, 1.5),
    ]]
    fillet(zaoblit1_edges, radius=ZAOBLIT1_R)

    # Zaoblit2
    zaoblit2_edges = [part.edges().sort_by_distance(p)[0] for p in [
        (-19.003438856, 112.5, 1.5),
        (19.003438856, 112.5, 1.5),
    ]]
    fillet(zaoblit2_edges, radius=ZAOBLIT2_R)

    # Skica3 → Odebrat vysunutím2 (cut, through all)
    with BuildSketch(Plane.XY.offset(3)):
        with Locations((-28.2, 41.3)):
            Circle(SKICA3_R)
        with Locations(Location((28.2, 41.3, 0), (0, 0, 180))):
            Circle(SKICA3_R)
        with Locations((0, -50.6)):
            Rectangle(SKICA3_W, SKICA3_H)
    extrude(amount=-ODEBRAT_VYSUNUT_M2_DEPTH, mode=Mode.SUBTRACT)


solid = part.part
